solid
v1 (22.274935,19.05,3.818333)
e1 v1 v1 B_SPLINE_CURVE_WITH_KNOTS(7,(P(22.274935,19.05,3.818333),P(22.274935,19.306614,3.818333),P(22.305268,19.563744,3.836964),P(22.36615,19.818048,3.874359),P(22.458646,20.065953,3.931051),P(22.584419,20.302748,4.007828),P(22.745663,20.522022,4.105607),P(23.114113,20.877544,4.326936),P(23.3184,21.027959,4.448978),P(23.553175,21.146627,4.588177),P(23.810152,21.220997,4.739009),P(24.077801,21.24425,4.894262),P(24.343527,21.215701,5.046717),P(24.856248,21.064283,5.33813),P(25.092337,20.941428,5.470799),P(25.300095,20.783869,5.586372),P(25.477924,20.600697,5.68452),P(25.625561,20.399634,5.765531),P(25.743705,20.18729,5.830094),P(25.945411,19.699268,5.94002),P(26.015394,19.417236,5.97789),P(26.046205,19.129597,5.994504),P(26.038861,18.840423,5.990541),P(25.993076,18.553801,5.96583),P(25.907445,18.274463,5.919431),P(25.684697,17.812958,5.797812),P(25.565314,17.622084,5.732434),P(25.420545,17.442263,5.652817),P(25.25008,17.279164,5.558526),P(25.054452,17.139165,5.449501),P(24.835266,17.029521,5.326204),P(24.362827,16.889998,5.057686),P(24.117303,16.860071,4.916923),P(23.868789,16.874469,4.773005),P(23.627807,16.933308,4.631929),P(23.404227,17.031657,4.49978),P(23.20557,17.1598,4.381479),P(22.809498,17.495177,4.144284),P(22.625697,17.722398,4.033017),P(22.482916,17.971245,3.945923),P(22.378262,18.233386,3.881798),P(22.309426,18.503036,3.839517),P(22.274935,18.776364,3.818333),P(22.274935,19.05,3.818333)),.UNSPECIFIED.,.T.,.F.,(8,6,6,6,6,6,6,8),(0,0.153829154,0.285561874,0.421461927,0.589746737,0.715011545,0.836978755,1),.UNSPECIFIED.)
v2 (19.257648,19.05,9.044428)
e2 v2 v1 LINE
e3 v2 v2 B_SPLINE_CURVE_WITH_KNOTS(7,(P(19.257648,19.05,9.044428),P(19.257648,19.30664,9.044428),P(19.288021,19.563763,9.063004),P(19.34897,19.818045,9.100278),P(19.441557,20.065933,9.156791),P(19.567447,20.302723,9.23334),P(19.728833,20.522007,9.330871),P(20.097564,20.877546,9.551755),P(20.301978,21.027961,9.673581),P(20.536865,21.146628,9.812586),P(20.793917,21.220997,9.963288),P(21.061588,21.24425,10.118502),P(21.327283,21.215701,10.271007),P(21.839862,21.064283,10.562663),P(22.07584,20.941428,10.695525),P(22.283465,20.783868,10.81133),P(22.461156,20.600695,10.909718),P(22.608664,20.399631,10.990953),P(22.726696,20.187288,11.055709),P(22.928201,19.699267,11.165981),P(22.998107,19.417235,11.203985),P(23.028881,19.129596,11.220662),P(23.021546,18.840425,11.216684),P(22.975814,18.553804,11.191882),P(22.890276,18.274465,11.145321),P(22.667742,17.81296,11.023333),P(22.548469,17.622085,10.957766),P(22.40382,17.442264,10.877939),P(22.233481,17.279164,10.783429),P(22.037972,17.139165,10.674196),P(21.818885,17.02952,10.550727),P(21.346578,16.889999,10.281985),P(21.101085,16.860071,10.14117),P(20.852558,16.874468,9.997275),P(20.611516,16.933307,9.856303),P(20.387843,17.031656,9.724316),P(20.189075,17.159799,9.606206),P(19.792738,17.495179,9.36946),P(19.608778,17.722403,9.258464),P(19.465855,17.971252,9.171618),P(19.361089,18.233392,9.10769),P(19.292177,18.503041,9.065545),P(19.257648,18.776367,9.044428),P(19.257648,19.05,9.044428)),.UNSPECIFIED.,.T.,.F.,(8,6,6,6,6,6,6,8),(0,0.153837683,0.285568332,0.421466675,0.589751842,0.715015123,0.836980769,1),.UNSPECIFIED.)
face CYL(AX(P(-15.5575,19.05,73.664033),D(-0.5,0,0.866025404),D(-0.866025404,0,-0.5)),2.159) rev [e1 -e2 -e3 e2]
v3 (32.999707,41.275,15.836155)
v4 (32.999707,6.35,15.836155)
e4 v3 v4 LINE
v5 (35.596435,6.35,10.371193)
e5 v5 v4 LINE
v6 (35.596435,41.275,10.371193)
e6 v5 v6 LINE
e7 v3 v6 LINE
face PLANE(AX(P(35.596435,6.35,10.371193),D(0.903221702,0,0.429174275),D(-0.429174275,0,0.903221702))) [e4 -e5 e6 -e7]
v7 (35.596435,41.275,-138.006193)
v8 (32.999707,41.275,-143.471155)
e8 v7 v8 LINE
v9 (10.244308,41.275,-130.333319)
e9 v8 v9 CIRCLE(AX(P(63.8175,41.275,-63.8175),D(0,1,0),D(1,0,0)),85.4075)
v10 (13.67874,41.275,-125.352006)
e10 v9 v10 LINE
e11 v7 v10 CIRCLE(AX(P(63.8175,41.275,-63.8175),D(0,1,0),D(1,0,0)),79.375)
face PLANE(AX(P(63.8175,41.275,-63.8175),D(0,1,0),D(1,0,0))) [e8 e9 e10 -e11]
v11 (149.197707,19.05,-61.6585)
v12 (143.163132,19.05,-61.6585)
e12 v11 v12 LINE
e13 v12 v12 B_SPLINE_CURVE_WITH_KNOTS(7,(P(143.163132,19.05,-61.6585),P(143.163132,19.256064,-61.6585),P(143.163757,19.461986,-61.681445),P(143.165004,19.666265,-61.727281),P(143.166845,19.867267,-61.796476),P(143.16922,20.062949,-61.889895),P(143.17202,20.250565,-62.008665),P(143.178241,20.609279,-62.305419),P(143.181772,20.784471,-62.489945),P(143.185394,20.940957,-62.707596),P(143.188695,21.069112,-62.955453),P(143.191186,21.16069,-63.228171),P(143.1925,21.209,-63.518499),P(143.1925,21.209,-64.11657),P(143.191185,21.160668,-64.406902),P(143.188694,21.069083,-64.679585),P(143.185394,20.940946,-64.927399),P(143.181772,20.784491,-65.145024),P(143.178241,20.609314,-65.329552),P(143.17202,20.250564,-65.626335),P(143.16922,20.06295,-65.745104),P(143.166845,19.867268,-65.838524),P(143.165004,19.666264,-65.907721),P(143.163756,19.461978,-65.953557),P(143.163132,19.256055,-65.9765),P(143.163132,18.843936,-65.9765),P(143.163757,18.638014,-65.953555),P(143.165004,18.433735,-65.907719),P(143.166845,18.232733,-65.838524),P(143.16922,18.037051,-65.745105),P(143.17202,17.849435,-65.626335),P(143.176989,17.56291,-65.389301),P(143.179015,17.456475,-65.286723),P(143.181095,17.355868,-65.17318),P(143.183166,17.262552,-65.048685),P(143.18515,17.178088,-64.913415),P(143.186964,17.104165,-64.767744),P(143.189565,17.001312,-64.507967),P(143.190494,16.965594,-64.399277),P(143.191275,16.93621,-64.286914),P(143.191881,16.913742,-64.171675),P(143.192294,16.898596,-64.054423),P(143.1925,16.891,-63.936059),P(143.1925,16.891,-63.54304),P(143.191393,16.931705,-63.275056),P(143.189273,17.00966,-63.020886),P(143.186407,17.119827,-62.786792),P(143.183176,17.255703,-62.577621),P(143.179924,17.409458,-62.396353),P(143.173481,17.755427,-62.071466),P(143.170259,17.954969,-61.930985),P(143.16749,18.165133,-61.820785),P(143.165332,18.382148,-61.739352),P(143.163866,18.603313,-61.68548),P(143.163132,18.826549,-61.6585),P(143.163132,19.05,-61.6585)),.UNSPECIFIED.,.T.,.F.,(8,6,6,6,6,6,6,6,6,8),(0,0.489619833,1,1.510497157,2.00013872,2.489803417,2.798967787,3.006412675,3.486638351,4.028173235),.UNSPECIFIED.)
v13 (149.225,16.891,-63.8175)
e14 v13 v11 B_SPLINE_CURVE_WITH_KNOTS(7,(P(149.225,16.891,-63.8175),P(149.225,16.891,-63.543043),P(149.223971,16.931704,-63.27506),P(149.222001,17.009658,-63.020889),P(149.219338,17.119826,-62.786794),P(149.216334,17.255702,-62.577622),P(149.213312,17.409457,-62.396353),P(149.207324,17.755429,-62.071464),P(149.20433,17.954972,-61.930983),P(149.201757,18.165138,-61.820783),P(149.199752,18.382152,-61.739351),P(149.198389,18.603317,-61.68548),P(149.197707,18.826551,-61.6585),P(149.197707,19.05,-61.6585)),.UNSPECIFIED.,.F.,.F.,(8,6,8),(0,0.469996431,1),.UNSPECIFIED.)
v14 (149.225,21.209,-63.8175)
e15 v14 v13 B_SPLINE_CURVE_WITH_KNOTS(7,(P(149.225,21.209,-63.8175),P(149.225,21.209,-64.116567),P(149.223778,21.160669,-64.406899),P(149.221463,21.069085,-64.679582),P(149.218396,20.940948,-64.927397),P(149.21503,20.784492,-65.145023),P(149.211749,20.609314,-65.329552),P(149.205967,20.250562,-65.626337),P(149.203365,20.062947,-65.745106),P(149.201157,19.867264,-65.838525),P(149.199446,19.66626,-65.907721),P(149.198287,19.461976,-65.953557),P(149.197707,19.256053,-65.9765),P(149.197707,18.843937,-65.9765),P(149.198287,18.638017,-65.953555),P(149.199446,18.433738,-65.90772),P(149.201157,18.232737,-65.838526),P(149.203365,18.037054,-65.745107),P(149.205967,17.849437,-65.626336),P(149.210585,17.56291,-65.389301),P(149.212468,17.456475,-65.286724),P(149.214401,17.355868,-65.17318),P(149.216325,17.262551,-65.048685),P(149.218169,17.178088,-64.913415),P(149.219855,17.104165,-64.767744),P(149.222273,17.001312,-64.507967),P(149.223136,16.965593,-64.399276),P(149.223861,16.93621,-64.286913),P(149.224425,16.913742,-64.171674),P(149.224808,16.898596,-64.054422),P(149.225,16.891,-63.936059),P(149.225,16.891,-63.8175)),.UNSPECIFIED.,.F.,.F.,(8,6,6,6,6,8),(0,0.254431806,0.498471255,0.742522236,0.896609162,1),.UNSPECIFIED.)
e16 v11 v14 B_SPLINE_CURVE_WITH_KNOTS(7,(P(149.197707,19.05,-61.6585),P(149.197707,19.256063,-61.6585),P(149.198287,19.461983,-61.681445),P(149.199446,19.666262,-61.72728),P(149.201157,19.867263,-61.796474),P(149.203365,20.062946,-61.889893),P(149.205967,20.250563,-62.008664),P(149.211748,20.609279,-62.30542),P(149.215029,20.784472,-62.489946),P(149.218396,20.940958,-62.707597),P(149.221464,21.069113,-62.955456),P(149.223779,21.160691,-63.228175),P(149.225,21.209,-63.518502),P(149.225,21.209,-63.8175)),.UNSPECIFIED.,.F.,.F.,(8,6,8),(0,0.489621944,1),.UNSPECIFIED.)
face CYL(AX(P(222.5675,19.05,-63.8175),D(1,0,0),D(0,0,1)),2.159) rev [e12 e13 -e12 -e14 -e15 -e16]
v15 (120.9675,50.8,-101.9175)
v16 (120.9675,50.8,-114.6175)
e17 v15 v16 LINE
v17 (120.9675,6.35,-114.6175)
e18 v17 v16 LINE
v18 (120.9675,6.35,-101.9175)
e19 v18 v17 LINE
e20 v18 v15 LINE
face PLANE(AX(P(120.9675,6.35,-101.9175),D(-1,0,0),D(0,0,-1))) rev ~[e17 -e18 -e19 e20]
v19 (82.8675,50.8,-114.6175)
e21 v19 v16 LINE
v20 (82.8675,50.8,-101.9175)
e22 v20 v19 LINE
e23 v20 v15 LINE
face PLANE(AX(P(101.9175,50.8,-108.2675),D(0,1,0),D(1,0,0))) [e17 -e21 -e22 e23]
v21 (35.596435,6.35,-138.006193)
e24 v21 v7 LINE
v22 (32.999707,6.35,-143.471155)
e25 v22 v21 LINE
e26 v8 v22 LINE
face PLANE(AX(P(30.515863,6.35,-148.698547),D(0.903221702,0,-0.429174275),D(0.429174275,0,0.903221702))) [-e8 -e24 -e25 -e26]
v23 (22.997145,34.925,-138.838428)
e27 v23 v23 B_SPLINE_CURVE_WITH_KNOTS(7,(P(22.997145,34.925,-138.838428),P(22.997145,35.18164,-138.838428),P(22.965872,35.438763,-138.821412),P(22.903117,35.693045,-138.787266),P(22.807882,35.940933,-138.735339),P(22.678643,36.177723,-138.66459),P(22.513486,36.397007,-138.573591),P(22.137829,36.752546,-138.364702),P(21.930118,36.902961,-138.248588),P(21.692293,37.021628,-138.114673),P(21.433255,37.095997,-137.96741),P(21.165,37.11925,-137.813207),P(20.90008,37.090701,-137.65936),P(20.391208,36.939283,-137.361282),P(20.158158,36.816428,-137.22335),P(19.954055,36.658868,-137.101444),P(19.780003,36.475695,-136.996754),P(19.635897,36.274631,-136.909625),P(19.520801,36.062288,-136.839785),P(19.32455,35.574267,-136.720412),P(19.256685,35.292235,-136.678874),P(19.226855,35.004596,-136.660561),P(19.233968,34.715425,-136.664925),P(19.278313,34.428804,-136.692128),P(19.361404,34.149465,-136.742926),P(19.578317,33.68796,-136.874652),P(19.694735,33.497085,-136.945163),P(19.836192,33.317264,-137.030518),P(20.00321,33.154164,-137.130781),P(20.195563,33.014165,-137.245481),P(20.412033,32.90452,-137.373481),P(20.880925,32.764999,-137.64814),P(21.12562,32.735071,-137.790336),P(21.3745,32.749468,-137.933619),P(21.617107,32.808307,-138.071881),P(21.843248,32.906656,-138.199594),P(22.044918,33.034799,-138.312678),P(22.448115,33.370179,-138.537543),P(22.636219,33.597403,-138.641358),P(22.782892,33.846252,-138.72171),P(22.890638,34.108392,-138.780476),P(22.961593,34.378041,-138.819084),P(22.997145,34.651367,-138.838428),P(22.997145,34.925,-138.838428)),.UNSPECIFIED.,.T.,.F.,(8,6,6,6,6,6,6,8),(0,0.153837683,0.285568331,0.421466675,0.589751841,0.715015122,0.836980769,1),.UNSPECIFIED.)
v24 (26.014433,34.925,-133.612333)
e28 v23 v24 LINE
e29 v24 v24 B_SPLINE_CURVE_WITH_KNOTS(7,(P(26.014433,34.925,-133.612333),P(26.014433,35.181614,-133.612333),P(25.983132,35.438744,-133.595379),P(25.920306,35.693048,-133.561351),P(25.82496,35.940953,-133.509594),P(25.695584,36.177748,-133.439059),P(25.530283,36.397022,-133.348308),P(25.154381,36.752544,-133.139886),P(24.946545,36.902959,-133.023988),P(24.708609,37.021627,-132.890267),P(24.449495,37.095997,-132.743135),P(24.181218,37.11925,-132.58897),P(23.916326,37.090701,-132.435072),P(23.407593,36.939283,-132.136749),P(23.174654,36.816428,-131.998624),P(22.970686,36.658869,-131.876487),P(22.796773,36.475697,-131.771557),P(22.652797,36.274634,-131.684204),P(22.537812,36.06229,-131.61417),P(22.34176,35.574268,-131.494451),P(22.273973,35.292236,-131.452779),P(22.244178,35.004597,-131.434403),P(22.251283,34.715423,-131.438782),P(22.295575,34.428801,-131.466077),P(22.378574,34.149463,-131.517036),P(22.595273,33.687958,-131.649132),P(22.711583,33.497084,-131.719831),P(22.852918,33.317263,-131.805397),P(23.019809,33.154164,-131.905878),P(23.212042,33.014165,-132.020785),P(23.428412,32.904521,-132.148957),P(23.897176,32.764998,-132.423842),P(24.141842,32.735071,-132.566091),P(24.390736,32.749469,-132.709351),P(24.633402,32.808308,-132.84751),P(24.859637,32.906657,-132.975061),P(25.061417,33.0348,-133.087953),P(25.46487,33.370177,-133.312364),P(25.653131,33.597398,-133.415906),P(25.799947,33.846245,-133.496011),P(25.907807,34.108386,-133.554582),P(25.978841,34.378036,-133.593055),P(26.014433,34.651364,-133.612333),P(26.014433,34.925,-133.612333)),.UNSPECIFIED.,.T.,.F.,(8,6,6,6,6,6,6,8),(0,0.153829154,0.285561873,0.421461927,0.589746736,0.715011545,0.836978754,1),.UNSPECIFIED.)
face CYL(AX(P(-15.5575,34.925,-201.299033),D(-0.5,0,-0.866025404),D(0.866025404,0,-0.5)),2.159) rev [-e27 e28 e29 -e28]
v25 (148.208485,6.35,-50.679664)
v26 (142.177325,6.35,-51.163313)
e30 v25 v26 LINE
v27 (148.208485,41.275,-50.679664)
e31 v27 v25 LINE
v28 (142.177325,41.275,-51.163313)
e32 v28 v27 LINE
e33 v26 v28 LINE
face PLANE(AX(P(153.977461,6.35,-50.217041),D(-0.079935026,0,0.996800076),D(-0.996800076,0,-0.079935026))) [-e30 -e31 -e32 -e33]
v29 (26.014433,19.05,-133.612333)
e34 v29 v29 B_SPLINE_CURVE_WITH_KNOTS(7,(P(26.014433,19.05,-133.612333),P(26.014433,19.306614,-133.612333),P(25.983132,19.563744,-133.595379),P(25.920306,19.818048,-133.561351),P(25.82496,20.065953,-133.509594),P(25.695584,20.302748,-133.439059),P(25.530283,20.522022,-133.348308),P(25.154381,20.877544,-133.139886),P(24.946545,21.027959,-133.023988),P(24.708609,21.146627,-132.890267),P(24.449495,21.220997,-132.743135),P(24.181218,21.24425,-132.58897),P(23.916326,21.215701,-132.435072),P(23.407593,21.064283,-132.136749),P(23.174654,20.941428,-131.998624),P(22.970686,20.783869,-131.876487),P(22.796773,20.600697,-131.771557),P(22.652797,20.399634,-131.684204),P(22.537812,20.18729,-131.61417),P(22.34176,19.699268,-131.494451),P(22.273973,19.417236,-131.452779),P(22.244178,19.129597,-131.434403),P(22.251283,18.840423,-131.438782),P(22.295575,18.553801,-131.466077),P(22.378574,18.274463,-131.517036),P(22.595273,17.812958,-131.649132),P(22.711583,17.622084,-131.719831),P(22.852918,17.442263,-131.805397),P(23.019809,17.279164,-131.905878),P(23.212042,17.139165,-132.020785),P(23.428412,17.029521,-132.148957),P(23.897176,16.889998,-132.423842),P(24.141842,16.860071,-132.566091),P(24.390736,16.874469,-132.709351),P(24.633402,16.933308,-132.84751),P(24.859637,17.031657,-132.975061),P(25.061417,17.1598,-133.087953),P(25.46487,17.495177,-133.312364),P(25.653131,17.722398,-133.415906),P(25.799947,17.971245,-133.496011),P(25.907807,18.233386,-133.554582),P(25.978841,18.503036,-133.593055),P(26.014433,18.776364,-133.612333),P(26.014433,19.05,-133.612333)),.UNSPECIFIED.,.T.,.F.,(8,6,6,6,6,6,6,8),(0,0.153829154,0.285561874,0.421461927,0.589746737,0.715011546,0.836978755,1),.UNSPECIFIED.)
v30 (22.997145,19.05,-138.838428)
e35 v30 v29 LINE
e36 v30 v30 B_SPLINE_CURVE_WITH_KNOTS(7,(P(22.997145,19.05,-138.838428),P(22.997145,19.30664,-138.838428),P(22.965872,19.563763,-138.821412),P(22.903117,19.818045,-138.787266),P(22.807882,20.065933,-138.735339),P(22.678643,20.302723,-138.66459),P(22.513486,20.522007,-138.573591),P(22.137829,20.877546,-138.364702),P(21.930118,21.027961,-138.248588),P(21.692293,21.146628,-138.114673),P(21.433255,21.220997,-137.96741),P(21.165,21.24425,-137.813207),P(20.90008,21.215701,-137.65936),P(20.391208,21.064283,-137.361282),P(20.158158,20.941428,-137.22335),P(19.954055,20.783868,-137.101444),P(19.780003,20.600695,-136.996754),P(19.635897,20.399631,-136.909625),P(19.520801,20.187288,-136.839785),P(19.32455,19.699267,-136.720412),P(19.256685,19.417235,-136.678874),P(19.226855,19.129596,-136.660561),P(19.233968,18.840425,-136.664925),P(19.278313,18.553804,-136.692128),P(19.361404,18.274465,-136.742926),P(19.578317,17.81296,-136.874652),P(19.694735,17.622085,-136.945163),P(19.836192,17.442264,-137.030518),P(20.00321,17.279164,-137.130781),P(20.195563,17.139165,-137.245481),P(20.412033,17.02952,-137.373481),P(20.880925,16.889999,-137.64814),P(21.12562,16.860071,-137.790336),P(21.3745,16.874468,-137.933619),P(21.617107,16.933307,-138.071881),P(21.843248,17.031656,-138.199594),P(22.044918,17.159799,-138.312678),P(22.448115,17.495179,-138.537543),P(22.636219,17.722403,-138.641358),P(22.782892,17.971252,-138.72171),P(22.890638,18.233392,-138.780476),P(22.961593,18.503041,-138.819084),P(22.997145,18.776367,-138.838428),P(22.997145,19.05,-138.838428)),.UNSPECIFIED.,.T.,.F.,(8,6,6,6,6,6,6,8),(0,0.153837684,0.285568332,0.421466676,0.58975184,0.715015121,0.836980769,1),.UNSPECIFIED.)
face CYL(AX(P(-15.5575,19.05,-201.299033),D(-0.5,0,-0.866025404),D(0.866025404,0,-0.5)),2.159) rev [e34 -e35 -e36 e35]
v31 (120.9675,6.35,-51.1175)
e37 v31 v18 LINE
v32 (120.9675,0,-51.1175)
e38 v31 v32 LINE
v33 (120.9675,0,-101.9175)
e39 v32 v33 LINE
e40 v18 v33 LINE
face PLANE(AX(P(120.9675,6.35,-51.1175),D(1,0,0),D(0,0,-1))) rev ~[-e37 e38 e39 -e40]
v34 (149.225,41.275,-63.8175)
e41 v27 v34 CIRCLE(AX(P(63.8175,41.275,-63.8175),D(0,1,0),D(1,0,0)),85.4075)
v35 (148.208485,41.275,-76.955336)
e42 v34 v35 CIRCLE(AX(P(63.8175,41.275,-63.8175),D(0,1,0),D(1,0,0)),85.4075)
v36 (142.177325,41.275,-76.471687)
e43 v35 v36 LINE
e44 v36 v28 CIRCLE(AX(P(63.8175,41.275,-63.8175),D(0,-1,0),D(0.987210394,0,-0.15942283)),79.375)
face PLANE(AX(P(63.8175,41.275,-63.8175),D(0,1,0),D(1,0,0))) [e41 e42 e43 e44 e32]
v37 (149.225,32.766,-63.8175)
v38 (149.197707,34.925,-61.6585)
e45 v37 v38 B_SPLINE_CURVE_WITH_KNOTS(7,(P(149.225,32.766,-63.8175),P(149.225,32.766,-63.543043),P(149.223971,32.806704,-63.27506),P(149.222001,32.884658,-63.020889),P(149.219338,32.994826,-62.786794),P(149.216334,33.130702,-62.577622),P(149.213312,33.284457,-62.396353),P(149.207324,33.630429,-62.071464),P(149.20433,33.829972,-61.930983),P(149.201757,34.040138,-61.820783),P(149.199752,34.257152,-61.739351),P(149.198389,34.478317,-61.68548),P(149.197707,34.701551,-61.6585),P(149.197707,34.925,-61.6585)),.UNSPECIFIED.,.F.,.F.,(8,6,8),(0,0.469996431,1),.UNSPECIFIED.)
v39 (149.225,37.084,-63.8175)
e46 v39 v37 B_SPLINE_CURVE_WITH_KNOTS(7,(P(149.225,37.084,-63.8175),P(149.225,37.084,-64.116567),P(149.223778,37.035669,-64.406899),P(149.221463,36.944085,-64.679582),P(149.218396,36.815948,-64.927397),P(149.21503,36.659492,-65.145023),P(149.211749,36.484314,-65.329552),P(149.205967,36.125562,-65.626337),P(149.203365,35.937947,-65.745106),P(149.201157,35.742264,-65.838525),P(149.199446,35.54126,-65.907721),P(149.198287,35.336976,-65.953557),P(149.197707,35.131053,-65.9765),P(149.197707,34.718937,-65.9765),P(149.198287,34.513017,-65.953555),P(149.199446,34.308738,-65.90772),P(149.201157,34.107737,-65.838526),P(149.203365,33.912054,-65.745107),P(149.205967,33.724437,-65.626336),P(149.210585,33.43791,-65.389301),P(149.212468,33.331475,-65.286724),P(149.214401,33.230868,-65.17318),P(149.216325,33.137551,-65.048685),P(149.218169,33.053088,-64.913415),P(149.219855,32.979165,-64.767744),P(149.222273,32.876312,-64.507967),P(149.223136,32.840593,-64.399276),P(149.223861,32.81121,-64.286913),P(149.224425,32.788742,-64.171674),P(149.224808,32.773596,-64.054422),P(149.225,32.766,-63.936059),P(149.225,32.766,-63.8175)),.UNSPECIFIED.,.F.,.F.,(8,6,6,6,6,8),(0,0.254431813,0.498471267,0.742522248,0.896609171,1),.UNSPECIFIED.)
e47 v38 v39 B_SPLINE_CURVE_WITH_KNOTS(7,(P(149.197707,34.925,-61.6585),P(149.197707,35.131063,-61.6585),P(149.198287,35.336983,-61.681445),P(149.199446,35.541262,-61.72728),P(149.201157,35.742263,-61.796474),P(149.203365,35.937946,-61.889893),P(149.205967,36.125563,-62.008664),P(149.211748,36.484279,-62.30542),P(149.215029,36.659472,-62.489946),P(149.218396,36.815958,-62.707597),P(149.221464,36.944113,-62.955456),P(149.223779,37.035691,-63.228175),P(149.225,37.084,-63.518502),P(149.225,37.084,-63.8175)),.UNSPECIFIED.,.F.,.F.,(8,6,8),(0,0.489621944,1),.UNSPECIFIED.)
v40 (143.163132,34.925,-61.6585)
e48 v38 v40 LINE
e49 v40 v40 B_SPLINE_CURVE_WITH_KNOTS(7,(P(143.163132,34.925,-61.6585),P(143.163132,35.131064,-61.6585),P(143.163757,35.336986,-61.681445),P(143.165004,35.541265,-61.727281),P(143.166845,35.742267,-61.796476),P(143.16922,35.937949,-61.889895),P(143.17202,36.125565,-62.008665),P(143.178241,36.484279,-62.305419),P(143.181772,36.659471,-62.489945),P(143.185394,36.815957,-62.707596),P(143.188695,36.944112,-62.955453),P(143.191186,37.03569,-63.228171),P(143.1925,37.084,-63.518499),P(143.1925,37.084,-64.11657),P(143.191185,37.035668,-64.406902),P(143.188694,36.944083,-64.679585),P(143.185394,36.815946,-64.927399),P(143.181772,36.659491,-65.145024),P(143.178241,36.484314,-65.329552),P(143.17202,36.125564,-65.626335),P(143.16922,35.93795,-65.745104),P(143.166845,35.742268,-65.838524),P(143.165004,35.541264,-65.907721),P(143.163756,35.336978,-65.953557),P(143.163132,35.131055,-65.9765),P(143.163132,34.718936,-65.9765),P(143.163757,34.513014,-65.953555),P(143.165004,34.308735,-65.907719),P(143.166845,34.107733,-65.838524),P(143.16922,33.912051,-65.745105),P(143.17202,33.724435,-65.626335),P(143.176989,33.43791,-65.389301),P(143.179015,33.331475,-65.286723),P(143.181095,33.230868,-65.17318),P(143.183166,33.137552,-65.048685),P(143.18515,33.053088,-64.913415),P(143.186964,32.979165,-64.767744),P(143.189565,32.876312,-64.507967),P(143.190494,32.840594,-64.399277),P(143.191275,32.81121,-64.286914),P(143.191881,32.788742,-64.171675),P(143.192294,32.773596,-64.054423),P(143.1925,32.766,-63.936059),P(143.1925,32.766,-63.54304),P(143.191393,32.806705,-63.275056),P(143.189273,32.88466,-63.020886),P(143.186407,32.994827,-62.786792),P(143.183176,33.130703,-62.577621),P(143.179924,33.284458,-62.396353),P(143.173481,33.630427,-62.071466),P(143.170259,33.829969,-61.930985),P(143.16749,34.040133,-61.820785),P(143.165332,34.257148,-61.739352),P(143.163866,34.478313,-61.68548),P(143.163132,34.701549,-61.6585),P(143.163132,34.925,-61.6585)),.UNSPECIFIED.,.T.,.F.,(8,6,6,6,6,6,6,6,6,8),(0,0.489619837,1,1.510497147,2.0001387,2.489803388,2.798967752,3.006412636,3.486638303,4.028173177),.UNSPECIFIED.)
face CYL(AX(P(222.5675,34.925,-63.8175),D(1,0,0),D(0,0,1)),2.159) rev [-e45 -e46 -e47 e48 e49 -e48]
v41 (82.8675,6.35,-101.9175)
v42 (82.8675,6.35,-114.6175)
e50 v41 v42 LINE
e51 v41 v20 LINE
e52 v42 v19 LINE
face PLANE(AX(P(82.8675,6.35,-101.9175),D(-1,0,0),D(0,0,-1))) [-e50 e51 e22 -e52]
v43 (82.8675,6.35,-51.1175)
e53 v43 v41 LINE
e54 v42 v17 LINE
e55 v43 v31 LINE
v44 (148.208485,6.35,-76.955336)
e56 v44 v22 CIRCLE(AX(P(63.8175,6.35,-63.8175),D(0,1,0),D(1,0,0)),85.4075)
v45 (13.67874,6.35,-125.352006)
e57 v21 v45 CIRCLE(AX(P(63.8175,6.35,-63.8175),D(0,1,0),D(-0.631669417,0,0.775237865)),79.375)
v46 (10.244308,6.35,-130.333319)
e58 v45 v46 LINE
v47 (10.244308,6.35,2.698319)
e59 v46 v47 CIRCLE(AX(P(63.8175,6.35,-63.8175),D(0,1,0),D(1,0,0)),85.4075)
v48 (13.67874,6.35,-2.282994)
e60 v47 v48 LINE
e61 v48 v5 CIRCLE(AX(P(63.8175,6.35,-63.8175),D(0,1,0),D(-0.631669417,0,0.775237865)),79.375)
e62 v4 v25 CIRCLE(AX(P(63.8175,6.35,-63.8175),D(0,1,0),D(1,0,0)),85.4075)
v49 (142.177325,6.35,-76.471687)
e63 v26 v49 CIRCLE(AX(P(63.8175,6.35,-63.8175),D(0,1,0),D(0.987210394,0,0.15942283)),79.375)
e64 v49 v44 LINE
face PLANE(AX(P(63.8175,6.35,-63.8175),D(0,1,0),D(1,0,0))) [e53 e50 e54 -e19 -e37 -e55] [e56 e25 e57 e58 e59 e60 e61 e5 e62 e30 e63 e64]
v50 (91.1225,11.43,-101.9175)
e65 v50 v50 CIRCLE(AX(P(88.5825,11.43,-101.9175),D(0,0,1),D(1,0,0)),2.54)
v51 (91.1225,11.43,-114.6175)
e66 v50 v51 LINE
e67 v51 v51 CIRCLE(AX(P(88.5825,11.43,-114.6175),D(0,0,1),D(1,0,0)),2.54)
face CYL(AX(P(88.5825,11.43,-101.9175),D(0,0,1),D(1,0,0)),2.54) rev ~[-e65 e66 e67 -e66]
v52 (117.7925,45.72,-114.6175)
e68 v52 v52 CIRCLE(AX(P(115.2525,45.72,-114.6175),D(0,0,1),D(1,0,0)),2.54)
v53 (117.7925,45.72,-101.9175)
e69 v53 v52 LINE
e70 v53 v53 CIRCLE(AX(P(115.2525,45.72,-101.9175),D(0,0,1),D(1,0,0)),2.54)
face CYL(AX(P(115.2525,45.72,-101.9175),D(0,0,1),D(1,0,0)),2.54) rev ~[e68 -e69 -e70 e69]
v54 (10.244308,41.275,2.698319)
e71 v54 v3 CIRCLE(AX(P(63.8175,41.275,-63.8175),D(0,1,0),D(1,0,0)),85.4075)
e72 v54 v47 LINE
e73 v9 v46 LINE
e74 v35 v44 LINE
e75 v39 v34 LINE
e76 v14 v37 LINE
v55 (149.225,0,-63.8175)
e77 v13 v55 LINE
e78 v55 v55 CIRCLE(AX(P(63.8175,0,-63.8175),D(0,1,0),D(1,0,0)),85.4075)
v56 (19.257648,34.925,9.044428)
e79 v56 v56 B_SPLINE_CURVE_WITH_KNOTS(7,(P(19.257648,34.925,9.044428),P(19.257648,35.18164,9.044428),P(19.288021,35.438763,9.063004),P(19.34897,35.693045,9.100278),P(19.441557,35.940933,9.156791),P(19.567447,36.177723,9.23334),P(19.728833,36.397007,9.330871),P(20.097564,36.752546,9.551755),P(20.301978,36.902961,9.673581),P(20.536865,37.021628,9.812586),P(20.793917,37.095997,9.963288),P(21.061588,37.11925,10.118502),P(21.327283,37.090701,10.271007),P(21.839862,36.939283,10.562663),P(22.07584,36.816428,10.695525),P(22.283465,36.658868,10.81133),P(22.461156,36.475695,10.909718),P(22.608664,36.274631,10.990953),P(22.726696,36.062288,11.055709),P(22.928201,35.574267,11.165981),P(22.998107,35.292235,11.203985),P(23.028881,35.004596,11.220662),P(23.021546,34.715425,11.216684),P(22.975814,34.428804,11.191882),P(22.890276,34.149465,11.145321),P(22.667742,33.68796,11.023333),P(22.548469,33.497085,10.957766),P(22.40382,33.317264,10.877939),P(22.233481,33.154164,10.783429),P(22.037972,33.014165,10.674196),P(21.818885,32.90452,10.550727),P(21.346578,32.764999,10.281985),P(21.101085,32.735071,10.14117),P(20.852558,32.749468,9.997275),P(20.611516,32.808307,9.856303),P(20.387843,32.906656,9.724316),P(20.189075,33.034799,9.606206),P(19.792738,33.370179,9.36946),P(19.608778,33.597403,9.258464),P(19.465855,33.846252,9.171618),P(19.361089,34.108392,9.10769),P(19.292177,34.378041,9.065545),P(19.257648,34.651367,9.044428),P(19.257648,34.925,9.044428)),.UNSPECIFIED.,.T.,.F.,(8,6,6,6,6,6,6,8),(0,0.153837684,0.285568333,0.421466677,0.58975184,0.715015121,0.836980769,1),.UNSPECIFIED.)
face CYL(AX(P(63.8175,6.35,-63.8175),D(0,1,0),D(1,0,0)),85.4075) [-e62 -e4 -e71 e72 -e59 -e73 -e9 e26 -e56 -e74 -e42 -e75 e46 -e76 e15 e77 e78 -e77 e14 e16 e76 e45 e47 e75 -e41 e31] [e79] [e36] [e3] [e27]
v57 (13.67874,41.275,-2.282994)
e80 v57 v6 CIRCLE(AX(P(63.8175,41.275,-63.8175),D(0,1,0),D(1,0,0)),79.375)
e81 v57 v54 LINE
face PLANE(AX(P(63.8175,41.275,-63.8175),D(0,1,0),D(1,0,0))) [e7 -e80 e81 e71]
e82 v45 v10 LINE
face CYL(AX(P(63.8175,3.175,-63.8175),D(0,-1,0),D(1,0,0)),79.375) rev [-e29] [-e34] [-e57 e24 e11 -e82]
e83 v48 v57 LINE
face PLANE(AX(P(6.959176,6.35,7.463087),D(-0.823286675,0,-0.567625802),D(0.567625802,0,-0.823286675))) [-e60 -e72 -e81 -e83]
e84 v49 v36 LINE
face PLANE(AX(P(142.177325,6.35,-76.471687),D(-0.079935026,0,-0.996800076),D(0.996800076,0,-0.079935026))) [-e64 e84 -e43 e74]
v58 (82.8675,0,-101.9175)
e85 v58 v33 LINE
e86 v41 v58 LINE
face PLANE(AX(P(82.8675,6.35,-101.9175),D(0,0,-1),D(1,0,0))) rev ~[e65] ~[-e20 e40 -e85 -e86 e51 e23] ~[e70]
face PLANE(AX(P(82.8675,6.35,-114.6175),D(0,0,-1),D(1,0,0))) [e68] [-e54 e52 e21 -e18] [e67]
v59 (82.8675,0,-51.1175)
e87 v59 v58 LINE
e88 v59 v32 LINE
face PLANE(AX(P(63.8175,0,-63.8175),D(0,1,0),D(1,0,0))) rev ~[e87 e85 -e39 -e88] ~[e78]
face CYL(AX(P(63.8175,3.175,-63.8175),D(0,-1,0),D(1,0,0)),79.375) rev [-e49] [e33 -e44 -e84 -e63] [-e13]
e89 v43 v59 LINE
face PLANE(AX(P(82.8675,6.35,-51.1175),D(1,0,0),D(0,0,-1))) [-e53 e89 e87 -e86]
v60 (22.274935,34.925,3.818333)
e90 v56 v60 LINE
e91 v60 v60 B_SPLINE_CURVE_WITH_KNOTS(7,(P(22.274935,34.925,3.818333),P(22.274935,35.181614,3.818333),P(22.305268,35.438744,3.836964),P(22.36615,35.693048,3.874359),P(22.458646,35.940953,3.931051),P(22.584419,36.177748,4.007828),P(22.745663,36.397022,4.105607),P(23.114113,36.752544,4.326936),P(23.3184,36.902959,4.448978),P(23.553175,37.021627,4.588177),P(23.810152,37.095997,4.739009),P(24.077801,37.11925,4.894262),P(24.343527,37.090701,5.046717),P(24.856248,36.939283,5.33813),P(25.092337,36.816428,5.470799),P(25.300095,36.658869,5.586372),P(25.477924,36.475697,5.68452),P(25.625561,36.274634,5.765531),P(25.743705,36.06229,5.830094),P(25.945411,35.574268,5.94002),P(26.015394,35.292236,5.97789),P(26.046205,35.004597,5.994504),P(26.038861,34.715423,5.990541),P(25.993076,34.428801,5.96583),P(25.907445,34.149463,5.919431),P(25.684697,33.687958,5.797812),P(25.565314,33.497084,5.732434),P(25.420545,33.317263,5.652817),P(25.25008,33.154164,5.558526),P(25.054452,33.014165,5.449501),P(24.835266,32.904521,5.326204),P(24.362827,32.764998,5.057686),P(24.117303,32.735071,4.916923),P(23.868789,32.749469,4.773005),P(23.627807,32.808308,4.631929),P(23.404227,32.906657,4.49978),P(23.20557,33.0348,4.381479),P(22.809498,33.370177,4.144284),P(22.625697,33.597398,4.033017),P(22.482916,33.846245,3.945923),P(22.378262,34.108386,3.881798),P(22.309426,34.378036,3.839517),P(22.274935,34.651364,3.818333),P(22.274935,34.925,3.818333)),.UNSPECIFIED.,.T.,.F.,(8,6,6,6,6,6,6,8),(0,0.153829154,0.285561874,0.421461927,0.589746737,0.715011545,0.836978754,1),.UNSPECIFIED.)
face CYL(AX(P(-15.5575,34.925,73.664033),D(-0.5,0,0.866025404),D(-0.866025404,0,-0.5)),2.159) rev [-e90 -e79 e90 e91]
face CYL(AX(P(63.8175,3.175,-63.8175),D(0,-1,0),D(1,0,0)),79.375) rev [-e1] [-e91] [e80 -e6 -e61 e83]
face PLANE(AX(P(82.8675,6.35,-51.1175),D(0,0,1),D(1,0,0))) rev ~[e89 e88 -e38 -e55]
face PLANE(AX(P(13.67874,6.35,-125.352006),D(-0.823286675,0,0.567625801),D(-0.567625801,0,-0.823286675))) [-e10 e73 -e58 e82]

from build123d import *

# Parameters (mm, degrees)
SKETCH1_W           = 127.635
SKETCH1_H           = 127.635
MAIN_PLATE_DEPTH    = 6.35
SKETCH9_R           = 85.725
BOSS_EXTRUDE1_DEPTH = 6.35
SKETCH10_R          = 95.25
SKETCH10_R_2        = 85.4075
CUT_EXTRUDE1_DEPTH  = 167.64
SKETCH18_R          = 85.4075
SKETCH18_R_2        = 79.375
BOSS_EXTRUDE2_DEPTH = 38.1
SKETCH15_R          = 2.159
CUT_EXTRUDE3_DEPTH  = 88.9
CIRPATTERN1_COUNT   = 3
SKETCH23_R          = 79.375
CUT_EXTRUDE6_DEPTH  = 111.600000066
SKETCH24_W          = 38.1
SKETCH24_H          = 50.8
CUT_EXTRUDE7_DEPTH  = 7.35
SKETCH25_W          = 38.1
SKETCH25_H          = 12.7
BOSS_EXTRUDE3_DEPTH = 44.45
SKETCH26_R          = 2.54
CUT_EXTRUDE8_DEPTH  = 44.45


with BuildPart() as part:
    # Sketch1 → Main Plate (new body)
    with BuildSketch(Plane(origin=(0, 0, 0), x_dir=(1, 0, 0), z_dir=(0, 1, 0))):
        with Locations((63.8175, 63.8175)):
            Rectangle(SKETCH1_W, SKETCH1_H)
    extrude(amount=MAIN_PLATE_DEPTH)

    # Sketch9 → Boss-Extrude1 (add)
    with BuildSketch(Plane(origin=(0, 6.35, 0), x_dir=(1, 0, 0), z_dir=(0, 1, 0))):
        with Locations((63.8175, 63.8175)):
            Circle(SKETCH9_R)
    extrude(amount=-BOSS_EXTRUDE1_DEPTH)

    # Sketch10 → Cut-Extrude1 (cut)
    with BuildSketch(Plane(origin=(0, 6.35, 0), x_dir=(1, 0, 0), z_dir=(0, 1, 0))):
        with Locations((63.8175, 63.8175)):
            Circle(SKETCH10_R)
        with Locations((63.8175, 63.8175)):
            Circle(SKETCH10_R_2, mode=Mode.SUBTRACT)
    extrude(amount=-CUT_EXTRUDE1_DEPTH, mode=Mode.SUBTRACT)

    # Sketch18 → Boss-Extrude2 (add)
    with BuildSketch(Plane(origin=(0, 3.175, 0), x_dir=(1, 0, 0), z_dir=(0, 1, 0))):
        with Locations((63.8175, 63.8175)):
            Circle(SKETCH18_R)
        with Locations((63.8175, 63.8175)):
            Circle(SKETCH18_R_2, mode=Mode.SUBTRACT)
    extrude(amount=BOSS_EXTRUDE2_DEPTH)

    # Sketch15 → Cut-Extrude3 (cut)
    with BuildSketch(Plane(origin=(166.221610148, -6.35, 178.614251028), x_dir=(-0.866025404, 0, -0.5), z_dir=(0.5, 0, -0.866025404))):
        with Locations((209.900436354, 25.4)):
            Circle(SKETCH15_R)
        with Locations((209.900436354, 41.275)):
            Circle(SKETCH15_R)
    cut_extrude3 = extrude(amount=CUT_EXTRUDE3_DEPTH, mode=Mode.SUBTRACT)

    # CirPattern1: Cut-Extrude3 ×3 about axis
    cirpattern1_axis = Axis((63.8175, -161.29, -63.8175), (0, 1, 0))
    for i in range(1, CIRPATTERN1_COUNT):
        add(cut_extrude3.rotate(cirpattern1_axis, i * 360 / CIRPATTERN1_COUNT), mode=Mode.SUBTRACT)

    # Sketch23 → Cut-Extrude6 (cut)
    with BuildSketch(Plane(origin=(0, 6.35, 0), x_dir=(1, 0, 0), z_dir=(0, 1, 0))):
        with Locations((63.8175, 63.8175)):
            Circle(SKETCH23_R)
        with BuildLine():
            Line((13.678739997, 125.352005526), (7.552270878, 134.237860218))
            Line((7.552270878, 134.237860218), (-19.267108419, 125.320629884))
            Line((-19.267108419, 125.320629884), (-48.79695837, 60.397770071))
            Line((-48.79695837, 60.397770071), (-9.884344094, 7.052469015))
            Line((-9.884344094, 7.052469015), (6.959175986, -7.46308736))
            Line((6.959175986, -7.46308736), (13.678739997, 2.282994474))
            ThreePointArc((13.678739997, 2.282994474), (-15.5575, 63.8175), (13.678739997, 125.352005526))
        make_face()
        with BuildLine():
            Line((142.177324996, 76.471687114), (152.935935453, 77.334437661))
            Line((152.935935453, 77.334437661), (158.623077101, 105.019316613))
            Line((158.623077101, 105.019316613), (117.163156193, 163.054346747))
            Line((117.163156193, 163.054346747), (51.508463168, 156.027684783))
            Line((51.508463168, 156.027684783), (30.515862556, 148.698546693))
            Line((30.515862556, 148.698546693), (35.596435007, 138.00619264))
            ThreePointArc((35.596435007, 138.00619264), (103.505, 132.558266425), (142.177324996, 76.471687114))
        make_face()
        with BuildLine():
            Line((35.596435007, -10.37119264), (30.964293669, -20.119797879))
            Line((30.964293669, -20.119797879), (52.096531318, -38.887446496))
            Line((52.096531318, -38.887446496), (123.086302178, -31.999616818))
            Line((123.086302178, -31.999616818), (149.828380926, 28.372346201))
            Line((149.828380926, 28.372346201), (153.977461458, 50.217040667))
            Line((153.977461458, 50.217040667), (142.177324996, 51.163312886))
            ThreePointArc((142.177324996, 51.163312886), (103.505, -4.923266425), (35.596435007, -10.37119264))
        make_face()
    extrude(amount=CUT_EXTRUDE6_DEPTH, mode=Mode.SUBTRACT)

    # Sketch24 → Cut-Extrude7 (cut, through all)
    with BuildSketch(Plane(origin=(0, 6.35, 0), x_dir=(1, 0, 0), z_dir=(0, 1, 0))):
        with Locations((101.9175, 76.5175)):
            Rectangle(SKETCH24_W, SKETCH24_H)
    extrude(amount=-CUT_EXTRUDE7_DEPTH, mode=Mode.SUBTRACT)

    # Sketch25 → Boss-Extrude3 (add)
    with BuildSketch(Plane(origin=(0, 6.35, 0), x_dir=(1, 0, 0), z_dir=(0, 1, 0))):
        with Locations((101.9175, 108.2675)):
            Rectangle(SKETCH25_W, SKETCH25_H)
    extrude(amount=BOSS_EXTRUDE3_DEPTH)

    # Sketch26 → Cut-Extrude8 (cut)
    with BuildSketch(Plane.XY.offset(-101.9175)):
        with Locations((115.2525, 45.72)):
            Circle(SKETCH26_R)
        with Locations((88.5825, 11.43)):
            Circle(SKETCH26_R)
    extrude(amount=-CUT_EXTRUDE8_DEPTH, mode=Mode.SUBTRACT)


solid = part.part
